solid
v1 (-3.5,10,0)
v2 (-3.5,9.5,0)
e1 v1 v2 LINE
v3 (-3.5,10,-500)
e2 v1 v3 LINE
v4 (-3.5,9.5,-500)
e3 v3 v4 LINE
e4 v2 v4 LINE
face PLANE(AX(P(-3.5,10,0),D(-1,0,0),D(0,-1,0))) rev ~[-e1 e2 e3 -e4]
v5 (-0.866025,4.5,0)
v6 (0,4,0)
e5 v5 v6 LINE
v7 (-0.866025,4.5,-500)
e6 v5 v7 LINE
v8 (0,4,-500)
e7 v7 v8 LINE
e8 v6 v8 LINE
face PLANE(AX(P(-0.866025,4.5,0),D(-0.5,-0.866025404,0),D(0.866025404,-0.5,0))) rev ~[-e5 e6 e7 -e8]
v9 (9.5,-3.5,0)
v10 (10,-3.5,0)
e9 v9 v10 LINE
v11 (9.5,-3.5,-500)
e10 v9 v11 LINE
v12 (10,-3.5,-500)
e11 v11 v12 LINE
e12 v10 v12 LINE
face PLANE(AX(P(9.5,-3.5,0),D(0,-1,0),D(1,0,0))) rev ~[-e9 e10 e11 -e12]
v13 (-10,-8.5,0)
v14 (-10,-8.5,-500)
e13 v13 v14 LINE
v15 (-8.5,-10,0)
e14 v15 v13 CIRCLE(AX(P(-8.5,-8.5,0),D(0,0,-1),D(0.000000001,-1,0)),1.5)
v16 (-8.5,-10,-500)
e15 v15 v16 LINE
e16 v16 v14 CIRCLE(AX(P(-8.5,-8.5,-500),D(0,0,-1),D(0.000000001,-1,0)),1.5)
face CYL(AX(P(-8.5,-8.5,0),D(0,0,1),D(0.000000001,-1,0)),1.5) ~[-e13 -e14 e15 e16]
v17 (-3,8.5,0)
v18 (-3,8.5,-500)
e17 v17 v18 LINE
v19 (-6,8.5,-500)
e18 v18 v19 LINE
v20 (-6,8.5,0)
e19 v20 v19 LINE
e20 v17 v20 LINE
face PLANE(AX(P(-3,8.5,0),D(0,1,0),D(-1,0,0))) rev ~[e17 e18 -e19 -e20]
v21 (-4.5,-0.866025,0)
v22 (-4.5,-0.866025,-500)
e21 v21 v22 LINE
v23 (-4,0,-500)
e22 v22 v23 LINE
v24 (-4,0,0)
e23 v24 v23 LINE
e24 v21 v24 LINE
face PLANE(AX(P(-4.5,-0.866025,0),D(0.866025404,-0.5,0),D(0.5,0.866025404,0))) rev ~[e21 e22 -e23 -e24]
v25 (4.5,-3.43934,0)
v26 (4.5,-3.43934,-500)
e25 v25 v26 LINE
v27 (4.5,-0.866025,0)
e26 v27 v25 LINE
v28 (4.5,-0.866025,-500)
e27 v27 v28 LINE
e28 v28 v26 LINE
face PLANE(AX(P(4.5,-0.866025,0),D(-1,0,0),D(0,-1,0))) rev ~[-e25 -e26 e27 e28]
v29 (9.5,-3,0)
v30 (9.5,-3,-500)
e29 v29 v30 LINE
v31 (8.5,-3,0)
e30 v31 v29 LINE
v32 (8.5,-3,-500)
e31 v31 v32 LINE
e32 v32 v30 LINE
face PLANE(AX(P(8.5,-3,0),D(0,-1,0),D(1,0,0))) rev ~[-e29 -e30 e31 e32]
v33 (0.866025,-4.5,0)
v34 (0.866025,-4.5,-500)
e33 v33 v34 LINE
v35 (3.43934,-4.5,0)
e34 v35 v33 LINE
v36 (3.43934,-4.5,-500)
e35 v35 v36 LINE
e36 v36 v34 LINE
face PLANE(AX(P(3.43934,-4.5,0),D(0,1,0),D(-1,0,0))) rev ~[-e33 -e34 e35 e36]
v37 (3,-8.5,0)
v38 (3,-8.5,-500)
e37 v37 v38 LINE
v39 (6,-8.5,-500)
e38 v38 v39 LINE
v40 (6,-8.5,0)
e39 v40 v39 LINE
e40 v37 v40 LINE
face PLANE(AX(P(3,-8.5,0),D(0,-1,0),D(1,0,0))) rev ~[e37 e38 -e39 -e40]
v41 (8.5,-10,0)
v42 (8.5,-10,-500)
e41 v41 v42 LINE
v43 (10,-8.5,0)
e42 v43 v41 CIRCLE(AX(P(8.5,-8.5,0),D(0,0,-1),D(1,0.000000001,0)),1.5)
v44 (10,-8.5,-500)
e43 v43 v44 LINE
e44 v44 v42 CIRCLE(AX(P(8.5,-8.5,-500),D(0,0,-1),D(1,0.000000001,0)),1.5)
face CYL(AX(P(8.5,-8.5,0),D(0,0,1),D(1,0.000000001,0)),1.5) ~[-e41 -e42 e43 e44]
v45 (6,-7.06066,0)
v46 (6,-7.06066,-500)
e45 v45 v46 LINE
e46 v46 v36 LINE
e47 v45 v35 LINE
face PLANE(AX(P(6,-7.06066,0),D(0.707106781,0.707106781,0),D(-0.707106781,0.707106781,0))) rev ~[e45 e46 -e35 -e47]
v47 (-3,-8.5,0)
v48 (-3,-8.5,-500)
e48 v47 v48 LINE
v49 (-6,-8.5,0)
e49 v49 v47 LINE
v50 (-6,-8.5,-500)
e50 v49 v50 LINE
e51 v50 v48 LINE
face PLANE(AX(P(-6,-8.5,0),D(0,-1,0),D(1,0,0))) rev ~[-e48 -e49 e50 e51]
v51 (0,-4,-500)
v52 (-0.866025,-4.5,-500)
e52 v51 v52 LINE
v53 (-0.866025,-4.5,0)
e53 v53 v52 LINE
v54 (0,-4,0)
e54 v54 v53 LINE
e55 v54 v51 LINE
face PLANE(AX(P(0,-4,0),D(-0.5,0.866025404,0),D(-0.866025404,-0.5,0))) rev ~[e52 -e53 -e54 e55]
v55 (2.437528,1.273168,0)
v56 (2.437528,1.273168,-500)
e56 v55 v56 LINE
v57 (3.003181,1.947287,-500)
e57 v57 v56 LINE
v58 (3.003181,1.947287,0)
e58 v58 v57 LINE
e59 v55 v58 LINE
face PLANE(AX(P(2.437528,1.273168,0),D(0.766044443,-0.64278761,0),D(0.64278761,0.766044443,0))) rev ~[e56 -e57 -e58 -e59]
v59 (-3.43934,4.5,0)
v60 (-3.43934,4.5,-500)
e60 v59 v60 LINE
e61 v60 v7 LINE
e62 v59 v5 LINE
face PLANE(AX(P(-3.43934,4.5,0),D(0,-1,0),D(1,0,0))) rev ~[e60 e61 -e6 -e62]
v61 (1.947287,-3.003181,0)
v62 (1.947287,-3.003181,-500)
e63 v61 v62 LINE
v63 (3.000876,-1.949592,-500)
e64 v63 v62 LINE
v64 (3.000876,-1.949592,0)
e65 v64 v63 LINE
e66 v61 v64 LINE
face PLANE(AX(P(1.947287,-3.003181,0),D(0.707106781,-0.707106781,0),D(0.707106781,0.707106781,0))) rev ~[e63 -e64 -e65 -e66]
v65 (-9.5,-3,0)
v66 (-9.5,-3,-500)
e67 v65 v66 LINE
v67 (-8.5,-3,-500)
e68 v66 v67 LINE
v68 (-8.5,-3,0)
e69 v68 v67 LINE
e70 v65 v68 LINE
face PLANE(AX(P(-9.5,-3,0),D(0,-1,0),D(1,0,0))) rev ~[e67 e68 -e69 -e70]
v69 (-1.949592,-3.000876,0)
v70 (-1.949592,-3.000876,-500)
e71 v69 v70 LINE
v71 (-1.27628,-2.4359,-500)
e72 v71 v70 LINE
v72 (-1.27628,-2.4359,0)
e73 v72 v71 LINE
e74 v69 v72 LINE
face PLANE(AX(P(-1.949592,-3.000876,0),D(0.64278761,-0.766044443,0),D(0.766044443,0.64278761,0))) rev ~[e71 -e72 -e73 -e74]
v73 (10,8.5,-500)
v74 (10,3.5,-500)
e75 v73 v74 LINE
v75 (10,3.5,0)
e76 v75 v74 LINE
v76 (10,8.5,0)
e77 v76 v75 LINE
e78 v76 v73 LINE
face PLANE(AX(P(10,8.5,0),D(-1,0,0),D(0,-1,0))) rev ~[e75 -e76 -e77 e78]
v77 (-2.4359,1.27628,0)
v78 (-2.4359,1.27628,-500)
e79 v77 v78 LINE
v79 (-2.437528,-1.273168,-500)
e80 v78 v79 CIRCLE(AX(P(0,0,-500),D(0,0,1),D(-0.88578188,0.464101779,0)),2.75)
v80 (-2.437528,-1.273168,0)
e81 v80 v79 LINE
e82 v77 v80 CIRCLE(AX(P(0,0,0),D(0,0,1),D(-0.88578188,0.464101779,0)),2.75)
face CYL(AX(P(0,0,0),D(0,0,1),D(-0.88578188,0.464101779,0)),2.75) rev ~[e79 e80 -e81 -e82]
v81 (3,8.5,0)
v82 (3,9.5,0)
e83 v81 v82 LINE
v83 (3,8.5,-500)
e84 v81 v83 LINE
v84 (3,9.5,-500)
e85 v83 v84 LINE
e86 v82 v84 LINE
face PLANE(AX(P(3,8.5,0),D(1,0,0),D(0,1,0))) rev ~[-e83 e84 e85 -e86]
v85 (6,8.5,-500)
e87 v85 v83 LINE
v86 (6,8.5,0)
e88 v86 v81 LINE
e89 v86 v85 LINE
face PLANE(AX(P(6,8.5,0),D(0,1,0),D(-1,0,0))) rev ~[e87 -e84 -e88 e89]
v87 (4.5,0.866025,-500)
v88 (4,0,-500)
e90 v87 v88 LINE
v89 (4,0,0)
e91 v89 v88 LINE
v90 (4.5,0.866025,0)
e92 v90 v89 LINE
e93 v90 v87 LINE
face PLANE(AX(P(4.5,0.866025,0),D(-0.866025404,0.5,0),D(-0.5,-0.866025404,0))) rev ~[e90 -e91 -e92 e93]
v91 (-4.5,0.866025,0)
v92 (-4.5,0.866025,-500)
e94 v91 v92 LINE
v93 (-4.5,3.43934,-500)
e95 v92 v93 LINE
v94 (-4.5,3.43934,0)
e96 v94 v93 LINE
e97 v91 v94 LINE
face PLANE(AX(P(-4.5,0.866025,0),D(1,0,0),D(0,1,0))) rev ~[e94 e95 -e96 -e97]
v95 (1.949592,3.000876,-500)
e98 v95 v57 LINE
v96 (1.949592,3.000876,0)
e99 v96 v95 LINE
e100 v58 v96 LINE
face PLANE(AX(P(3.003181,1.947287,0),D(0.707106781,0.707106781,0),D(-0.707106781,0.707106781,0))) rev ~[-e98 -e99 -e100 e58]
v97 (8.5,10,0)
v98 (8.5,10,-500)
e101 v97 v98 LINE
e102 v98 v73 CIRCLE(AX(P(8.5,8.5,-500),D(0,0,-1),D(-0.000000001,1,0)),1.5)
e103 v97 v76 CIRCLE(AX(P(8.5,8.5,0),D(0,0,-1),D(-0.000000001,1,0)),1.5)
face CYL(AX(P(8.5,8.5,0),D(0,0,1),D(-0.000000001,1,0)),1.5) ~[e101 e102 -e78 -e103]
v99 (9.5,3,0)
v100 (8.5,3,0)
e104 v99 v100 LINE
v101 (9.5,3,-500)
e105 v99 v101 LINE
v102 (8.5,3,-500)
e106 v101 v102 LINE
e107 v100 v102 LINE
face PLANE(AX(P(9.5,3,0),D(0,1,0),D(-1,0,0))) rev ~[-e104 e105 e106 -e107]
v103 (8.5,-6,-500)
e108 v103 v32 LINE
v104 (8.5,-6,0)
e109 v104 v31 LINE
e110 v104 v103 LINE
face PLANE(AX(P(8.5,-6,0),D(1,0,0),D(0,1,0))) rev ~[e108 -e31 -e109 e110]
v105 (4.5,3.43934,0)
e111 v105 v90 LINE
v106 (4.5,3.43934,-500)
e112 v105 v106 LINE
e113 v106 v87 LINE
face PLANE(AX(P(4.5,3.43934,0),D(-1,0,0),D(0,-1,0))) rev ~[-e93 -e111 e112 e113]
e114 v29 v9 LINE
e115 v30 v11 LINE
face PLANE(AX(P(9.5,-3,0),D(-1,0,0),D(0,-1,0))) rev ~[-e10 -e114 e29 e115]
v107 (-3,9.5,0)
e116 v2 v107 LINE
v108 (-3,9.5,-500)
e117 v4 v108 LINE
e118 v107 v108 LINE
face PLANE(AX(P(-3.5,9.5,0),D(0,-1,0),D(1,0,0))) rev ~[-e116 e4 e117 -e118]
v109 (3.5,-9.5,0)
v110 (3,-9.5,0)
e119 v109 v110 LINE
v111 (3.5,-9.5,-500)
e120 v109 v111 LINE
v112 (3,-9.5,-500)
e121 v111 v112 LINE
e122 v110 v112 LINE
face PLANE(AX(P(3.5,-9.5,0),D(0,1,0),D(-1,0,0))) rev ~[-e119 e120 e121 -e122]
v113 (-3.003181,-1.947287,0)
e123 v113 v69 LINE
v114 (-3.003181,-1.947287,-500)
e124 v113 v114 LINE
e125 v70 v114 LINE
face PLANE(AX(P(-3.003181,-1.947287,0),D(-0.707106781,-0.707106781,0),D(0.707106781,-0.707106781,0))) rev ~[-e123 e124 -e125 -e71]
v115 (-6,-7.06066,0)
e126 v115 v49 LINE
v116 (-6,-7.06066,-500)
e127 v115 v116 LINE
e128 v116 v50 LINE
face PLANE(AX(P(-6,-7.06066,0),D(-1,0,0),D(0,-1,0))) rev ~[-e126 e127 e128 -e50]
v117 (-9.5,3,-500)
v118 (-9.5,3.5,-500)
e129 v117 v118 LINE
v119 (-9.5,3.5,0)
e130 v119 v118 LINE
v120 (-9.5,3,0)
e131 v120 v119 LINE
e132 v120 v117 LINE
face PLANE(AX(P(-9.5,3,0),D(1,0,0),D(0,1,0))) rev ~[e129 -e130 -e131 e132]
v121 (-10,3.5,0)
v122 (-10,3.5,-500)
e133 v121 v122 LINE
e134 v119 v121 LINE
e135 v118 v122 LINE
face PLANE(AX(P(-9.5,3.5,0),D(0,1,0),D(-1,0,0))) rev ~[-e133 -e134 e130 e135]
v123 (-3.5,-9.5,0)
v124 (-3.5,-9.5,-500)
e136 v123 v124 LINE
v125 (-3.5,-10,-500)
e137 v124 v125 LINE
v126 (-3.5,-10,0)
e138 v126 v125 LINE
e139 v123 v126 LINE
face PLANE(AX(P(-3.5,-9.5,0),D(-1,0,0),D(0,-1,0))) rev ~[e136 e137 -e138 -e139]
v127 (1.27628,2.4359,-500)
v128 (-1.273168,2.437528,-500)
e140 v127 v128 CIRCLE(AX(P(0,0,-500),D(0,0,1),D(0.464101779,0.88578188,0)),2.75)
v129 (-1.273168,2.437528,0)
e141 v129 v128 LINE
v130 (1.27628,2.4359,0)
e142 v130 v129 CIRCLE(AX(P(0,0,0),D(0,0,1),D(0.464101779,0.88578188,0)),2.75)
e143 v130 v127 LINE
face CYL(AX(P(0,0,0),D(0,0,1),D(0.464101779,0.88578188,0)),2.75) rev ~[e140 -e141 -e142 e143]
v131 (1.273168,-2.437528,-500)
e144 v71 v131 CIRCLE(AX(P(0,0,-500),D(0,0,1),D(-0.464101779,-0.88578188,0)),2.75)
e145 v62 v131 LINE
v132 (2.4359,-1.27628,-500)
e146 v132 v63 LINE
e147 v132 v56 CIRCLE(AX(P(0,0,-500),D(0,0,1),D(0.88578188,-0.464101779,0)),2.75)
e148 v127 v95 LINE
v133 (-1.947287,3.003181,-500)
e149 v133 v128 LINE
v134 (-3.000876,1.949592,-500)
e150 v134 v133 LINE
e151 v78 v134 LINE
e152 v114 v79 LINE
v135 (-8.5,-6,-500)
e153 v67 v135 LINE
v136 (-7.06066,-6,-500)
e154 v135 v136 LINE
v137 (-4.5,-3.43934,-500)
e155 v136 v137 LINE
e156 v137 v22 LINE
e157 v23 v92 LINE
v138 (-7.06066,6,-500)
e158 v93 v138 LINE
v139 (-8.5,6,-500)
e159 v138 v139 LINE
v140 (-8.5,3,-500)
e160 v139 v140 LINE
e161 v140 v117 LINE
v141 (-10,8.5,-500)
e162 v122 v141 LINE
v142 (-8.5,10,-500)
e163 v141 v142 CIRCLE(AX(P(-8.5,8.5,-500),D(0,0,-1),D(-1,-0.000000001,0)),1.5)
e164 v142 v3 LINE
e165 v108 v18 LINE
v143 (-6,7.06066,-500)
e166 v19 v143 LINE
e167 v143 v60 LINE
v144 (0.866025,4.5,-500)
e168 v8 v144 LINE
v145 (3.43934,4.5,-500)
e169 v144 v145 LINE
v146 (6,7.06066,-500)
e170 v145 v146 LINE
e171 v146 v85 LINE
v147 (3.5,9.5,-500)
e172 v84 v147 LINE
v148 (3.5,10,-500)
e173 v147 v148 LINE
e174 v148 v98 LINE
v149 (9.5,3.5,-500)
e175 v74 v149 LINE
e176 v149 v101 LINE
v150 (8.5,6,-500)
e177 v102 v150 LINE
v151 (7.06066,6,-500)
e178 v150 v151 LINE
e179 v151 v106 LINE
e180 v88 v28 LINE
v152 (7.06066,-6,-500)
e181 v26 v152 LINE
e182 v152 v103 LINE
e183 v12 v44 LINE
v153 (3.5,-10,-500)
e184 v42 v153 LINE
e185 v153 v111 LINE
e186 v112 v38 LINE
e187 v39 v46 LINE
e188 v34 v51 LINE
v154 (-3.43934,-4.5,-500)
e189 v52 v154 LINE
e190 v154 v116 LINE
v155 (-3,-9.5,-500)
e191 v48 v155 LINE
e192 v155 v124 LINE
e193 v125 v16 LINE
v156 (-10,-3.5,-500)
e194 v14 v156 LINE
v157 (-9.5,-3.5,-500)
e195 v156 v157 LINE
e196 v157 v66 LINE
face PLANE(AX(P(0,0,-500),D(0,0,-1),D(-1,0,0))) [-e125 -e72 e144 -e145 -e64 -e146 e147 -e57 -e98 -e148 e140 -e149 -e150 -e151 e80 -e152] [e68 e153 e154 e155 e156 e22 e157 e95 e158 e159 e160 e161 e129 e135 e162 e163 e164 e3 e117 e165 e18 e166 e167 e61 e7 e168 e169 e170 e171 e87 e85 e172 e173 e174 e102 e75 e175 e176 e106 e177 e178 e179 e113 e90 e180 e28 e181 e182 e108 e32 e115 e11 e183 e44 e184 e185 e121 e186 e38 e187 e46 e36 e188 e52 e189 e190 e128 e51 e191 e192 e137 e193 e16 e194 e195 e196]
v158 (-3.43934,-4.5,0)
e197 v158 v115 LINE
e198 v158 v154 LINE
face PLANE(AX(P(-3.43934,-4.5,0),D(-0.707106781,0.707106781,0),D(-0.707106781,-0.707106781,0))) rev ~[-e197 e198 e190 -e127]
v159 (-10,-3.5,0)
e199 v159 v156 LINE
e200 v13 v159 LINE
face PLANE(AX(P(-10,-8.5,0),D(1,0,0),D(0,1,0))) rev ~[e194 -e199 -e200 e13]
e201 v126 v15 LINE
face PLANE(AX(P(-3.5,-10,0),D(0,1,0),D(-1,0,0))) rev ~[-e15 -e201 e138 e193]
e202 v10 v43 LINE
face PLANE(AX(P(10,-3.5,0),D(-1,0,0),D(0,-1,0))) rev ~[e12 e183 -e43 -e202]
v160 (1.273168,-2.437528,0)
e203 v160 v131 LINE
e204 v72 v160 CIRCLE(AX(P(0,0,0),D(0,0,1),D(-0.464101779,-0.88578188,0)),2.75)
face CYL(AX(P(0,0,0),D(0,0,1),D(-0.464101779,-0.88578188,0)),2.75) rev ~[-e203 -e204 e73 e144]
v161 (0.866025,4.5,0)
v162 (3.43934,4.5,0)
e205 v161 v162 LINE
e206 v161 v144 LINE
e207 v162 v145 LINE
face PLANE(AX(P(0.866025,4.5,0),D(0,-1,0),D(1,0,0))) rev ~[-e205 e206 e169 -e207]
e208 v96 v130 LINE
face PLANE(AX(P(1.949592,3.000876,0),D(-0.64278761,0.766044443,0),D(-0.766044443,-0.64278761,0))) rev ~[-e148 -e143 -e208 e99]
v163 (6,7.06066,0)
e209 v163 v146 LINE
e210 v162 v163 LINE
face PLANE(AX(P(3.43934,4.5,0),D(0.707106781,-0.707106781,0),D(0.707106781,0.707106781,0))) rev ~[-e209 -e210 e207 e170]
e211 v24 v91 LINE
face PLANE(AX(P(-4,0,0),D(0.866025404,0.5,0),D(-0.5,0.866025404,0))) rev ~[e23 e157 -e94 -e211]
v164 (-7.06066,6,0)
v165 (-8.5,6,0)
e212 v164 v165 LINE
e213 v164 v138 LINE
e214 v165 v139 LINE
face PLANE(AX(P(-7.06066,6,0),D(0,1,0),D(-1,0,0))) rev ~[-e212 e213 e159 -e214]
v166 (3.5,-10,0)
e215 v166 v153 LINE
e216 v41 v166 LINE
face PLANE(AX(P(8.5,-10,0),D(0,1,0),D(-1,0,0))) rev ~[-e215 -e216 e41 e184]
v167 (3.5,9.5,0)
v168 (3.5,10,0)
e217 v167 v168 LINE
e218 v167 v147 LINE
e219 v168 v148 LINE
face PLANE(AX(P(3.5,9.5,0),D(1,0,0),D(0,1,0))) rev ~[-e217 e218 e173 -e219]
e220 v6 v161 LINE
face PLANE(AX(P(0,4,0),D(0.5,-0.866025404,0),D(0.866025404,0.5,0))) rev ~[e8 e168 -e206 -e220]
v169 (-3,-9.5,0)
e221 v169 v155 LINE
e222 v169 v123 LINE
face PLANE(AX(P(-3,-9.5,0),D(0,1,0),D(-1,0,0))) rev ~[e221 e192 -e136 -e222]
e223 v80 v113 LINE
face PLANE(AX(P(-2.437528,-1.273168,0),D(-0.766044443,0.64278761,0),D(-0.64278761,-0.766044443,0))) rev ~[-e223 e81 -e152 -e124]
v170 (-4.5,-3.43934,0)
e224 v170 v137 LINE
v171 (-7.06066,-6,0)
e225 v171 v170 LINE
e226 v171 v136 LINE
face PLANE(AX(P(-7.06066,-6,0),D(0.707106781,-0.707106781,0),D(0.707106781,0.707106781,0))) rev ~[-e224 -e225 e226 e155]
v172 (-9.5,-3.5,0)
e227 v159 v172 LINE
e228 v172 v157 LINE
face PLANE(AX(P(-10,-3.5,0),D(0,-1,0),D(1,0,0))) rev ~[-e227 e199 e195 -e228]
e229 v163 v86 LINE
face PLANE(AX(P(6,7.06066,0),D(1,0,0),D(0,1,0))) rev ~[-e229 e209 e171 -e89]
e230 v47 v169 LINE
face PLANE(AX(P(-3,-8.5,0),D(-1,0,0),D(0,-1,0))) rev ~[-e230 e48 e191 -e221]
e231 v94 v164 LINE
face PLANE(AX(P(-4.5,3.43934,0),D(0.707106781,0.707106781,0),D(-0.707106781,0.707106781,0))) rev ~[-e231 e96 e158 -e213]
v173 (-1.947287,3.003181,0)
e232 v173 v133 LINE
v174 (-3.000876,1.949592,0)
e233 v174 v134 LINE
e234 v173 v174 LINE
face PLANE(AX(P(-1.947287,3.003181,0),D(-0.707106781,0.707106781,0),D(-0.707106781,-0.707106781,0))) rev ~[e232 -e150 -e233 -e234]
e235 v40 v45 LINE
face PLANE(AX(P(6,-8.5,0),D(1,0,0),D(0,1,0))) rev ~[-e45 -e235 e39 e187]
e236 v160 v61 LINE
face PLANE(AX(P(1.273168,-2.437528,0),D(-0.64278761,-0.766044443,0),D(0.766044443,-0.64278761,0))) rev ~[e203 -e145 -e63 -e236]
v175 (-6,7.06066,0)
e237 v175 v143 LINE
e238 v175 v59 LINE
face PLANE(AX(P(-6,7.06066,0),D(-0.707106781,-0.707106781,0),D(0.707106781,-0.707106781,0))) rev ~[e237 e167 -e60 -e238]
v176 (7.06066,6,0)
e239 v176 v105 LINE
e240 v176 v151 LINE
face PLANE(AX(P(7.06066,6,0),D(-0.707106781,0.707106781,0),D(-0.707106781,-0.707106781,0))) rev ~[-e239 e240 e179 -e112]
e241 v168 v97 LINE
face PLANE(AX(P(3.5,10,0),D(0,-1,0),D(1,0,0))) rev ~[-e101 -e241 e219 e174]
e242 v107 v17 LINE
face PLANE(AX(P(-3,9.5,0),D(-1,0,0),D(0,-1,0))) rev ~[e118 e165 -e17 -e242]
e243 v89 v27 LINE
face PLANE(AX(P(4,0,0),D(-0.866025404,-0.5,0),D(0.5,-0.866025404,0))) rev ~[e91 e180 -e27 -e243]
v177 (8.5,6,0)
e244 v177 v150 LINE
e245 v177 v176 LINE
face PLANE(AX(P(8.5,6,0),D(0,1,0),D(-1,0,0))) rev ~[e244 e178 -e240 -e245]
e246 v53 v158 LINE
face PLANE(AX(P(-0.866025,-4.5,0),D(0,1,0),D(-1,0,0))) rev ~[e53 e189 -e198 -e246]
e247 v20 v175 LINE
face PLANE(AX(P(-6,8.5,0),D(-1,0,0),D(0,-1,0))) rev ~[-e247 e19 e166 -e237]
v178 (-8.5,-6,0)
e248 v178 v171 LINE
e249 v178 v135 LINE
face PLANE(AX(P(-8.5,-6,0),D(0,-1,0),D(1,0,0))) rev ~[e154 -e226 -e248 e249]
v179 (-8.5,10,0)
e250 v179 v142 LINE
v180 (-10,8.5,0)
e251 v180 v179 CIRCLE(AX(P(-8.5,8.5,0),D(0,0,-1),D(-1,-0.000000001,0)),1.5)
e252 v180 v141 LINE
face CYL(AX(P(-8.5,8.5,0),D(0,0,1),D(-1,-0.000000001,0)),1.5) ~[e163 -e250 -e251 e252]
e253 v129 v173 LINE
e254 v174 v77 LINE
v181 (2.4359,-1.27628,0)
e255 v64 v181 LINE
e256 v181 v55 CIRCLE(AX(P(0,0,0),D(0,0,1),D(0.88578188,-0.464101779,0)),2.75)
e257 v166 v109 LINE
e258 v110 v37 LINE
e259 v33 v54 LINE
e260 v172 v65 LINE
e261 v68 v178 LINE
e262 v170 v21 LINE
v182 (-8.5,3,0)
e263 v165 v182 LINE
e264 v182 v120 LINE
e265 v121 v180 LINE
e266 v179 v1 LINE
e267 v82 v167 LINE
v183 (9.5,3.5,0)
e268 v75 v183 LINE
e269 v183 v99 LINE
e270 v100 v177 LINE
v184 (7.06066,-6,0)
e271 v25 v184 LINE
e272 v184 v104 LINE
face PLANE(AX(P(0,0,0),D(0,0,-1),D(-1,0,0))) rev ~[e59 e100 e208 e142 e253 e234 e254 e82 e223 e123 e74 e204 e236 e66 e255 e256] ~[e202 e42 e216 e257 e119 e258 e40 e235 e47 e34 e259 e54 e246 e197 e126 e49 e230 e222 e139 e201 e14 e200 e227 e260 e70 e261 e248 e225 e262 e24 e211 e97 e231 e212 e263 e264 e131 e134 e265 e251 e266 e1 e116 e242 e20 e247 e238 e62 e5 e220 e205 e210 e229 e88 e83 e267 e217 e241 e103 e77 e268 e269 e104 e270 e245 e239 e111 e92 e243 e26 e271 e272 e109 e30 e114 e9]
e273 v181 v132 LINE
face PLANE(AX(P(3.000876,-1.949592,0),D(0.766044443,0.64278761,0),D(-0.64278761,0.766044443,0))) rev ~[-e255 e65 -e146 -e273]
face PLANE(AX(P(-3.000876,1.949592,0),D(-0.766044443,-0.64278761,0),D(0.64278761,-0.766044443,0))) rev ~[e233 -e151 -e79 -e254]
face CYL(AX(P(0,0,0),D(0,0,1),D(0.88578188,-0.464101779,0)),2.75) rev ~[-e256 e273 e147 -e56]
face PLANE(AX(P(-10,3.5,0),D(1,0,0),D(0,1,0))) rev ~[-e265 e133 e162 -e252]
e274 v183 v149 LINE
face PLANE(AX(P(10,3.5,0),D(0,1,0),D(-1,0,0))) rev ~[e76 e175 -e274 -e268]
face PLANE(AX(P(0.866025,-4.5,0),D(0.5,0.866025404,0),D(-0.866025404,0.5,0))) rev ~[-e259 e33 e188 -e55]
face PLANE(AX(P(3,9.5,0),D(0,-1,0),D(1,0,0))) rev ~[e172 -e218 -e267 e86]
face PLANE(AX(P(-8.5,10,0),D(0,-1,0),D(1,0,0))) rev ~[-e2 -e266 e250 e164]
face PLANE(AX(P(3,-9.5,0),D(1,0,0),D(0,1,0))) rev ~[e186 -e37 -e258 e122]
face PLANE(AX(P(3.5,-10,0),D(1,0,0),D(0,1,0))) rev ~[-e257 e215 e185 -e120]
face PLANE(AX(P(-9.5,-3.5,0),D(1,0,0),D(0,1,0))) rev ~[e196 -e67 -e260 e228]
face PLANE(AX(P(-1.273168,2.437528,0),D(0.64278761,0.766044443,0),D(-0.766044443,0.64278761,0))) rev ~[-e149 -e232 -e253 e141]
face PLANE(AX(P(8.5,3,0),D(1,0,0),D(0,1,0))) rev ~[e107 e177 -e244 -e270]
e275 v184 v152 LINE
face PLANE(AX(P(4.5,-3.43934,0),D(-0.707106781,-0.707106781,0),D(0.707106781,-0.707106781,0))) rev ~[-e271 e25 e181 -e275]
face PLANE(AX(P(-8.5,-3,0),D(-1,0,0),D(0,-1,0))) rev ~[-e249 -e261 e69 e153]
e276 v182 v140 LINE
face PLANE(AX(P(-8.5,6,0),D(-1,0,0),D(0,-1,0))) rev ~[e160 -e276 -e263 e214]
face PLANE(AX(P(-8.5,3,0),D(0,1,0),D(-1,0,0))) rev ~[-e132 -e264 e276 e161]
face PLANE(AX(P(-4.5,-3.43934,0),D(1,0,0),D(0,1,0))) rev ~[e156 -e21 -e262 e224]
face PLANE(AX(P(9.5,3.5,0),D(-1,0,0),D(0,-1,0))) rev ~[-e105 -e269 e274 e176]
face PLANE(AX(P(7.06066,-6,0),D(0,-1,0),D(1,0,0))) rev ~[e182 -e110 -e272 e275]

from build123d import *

# Parameters (mm, degrees)
BOSS_EXTRU_1_DEPTH      = 500
ENL_V_MAT_EXTRU_1_DEPTH = 501.199960016


with BuildPart() as part:
    # Esquisse1 → Boss.-Extru.1 (new body)
    with BuildSketch(Plane.XY):
        with BuildLine():
            Line((-4, 0), (-4.5, 0.866025404))
            Line((-4.5, 0.866025404), (-4.5, 3.439339828))
            Line((-4.5, 3.439339828), (-7.060660172, 6))
            Line((-7.060660172, 6), (-8.5, 6))
            Line((-8.5, 6), (-8.5, 3))
            Line((-8.5, 3), (-9.5, 3))
            Line((-9.5, 3), (-9.5, 3.5))
            Line((-9.5, 3.5), (-10, 3.5))
            Line((-10, 3.5), (-10, 8.5))
            ThreePointArc((-10, 8.5), (-9.560660172, 9.560660172), (-8.5, 10))
            Line((-8.5, 10), (-3.5, 10))
            Line((-3.5, 10), (-3.5, 9.5))
            Line((-3.5, 9.5), (-3, 9.5))
            Line((-3, 9.5), (-3, 8.5))
            Line((-3, 8.5), (-6, 8.5))
            Line((-6, 8.5), (-6, 7.060660172))
            Line((-6, 7.060660172), (-3.439339828, 4.5))
            Line((-3.439339828, 4.5), (-0.866025404, 4.5))
            Line((-0.866025404, 4.5), (0, 4))
            Line((0, 4), (0.866025404, 4.5))
            Line((0.866025404, 4.5), (3.439339828, 4.5))
            Line((3.439339828, 4.5), (6, 7.060660172))
            Line((6, 7.060660172), (6, 8.5))
            Line((6, 8.5), (3, 8.5))
            Line((3, 8.5), (3, 9.5))
            Line((3, 9.5), (3.5, 9.5))
            Line((3.5, 9.5), (3.5, 10))
            Line((3.5, 10), (8.5, 10))
            ThreePointArc((8.5, 10), (9.560660172, 9.560660172), (10, 8.5))
            Line((10, 8.5), (10, 3.5))
            Line((10, 3.5), (9.5, 3.5))
            Line((9.5, 3.5), (9.5, 3))
            Line((9.5, 3), (8.5, 3))
            Line((8.5, 3), (8.5, 6))
            Line((8.5, 6), (7.060660172, 6))
            Line((7.060660172, 6), (4.5, 3.439339828))
            Line((4.5, 3.439339828), (4.5, 0.866025404))
            Line((4.5, 0.866025404), (4, 0))
            Line((4, 0), (4.5, -0.866025404))
            Line((4.5, -0.866025404), (4.5, -3.439339828))
            Line((4.5, -3.439339828), (7.060660172, -6))
            Line((7.060660172, -6), (8.5, -6))
            Line((8.5, -6), (8.5, -3))
            Line((8.5, -3), (9.5, -3))
            Line((9.5, -3), (9.5, -3.5))
            Line((9.5, -3.5), (10, -3.5))
            Line((10, -3.5), (10, -8.5))
            ThreePointArc((10, -8.5), (9.560660172, -9.560660172), (8.5, -10))
            Line((8.5, -10), (3.5, -10))
            Line((3.5, -10), (3.5, -9.5))
            Line((3.5, -9.5), (3, -9.5))
            Line((3, -9.5), (3, -8.5))
            Line((3, -8.5), (6, -8.5))
            Line((6, -8.5), (6, -7.060660172))
            Line((6, -7.060660172), (3.439339828, -4.5))
            Line((3.439339828, -4.5), (0.866025404, -4.5))
            Line((0.866025404, -4.5), (0, -4))
            Line((0, -4), (-0.866025404, -4.5))
            Line((-0.866025404, -4.5), (-3.439339828, -4.5))
            Line((-3.439339828, -4.5), (-6, -7.060660172))
            Line((-6, -7.060660172), (-6, -8.5))
            Line((-6, -8.5), (-3, -8.5))
            Line((-3, -8.5), (-3, -9.5))
            Line((-3, -9.5), (-3.5, -9.5))
            Line((-3.5, -9.5), (-3.5, -10))
            Line((-3.5, -10), (-8.5, -10))
            ThreePointArc((-8.5, -10), (-9.560660172, -9.560660172), (-10, -8.5))
            Line((-10, -8.5), (-10, -3.5))
            Line((-10, -3.5), (-9.5, -3.5))
            Line((-9.5, -3.5), (-9.5, -3))
            Line((-9.5, -3), (-8.5, -3))
            Line((-8.5, -3), (-8.5, -6))
            Line((-8.5, -6), (-7.060660172, -6))
            Line((-7.060660172, -6), (-4.5, -3.439339828))
            Line((-4.5, -3.439339828), (-4.5, -0.866025404))
            Line((-4.5, -0.866025404), (-4, 0))
        make_face()
    extrude(amount=-BOSS_EXTRU_1_DEPTH)

    # Esquisse2 → Enlèv. mat.-Extru.1 (cut, through all)
    with BuildSketch(Plane.XY):
        with BuildLine():
            Line((1.949592103, 3.000876196), (1.276279893, 2.435900169))
            ThreePointArc((1.276279893, 2.435900169), (0.001756003, 2.749999439), (-1.273167982, 2.43752811))
            Line((-1.273167982, 2.43752811), (-1.947287092, 3.003181207))
            Line((-1.947287092, 3.003181207), (-3.000876196, 1.949592103))
            Line((-3.000876196, 1.949592103), (-2.435900169, 1.276279893))
            ThreePointArc((-2.435900169, 1.276279893), (-2.749999439, 0.001756003), (-2.43752811, -1.273167982))
            Line((-2.43752811, -1.273167982), (-3.003181207, -1.947287092))
            Line((-3.003181207, -1.947287092), (-1.949592103, -3.000876196))
            Line((-1.949592103, -3.000876196), (-1.276279893, -2.435900169))
            ThreePointArc((-1.276279893, -2.435900169), (-0.001756003, -2.749999439), (1.273167982, -2.43752811))
            Line((1.273167982, -2.43752811), (1.947287092, -3.003181207))
            Line((1.947287092, -3.003181207), (3.000876196, -1.949592103))
            Line((3.000876196, -1.949592103), (2.435900169, -1.276279893))
            ThreePointArc((2.435900169, -1.276279893), (2.749999439, -0.001756003), (2.43752811, 1.273167982))
            Line((2.43752811, 1.273167982), (3.003181207, 1.947287092))
            Line((3.003181207, 1.947287092), (1.949592103, 3.000876196))
        make_face()
    extrude(amount=-ENL_V_MAT_EXTRU_1_DEPTH, mode=Mode.SUBTRACT)


solid = part.part
